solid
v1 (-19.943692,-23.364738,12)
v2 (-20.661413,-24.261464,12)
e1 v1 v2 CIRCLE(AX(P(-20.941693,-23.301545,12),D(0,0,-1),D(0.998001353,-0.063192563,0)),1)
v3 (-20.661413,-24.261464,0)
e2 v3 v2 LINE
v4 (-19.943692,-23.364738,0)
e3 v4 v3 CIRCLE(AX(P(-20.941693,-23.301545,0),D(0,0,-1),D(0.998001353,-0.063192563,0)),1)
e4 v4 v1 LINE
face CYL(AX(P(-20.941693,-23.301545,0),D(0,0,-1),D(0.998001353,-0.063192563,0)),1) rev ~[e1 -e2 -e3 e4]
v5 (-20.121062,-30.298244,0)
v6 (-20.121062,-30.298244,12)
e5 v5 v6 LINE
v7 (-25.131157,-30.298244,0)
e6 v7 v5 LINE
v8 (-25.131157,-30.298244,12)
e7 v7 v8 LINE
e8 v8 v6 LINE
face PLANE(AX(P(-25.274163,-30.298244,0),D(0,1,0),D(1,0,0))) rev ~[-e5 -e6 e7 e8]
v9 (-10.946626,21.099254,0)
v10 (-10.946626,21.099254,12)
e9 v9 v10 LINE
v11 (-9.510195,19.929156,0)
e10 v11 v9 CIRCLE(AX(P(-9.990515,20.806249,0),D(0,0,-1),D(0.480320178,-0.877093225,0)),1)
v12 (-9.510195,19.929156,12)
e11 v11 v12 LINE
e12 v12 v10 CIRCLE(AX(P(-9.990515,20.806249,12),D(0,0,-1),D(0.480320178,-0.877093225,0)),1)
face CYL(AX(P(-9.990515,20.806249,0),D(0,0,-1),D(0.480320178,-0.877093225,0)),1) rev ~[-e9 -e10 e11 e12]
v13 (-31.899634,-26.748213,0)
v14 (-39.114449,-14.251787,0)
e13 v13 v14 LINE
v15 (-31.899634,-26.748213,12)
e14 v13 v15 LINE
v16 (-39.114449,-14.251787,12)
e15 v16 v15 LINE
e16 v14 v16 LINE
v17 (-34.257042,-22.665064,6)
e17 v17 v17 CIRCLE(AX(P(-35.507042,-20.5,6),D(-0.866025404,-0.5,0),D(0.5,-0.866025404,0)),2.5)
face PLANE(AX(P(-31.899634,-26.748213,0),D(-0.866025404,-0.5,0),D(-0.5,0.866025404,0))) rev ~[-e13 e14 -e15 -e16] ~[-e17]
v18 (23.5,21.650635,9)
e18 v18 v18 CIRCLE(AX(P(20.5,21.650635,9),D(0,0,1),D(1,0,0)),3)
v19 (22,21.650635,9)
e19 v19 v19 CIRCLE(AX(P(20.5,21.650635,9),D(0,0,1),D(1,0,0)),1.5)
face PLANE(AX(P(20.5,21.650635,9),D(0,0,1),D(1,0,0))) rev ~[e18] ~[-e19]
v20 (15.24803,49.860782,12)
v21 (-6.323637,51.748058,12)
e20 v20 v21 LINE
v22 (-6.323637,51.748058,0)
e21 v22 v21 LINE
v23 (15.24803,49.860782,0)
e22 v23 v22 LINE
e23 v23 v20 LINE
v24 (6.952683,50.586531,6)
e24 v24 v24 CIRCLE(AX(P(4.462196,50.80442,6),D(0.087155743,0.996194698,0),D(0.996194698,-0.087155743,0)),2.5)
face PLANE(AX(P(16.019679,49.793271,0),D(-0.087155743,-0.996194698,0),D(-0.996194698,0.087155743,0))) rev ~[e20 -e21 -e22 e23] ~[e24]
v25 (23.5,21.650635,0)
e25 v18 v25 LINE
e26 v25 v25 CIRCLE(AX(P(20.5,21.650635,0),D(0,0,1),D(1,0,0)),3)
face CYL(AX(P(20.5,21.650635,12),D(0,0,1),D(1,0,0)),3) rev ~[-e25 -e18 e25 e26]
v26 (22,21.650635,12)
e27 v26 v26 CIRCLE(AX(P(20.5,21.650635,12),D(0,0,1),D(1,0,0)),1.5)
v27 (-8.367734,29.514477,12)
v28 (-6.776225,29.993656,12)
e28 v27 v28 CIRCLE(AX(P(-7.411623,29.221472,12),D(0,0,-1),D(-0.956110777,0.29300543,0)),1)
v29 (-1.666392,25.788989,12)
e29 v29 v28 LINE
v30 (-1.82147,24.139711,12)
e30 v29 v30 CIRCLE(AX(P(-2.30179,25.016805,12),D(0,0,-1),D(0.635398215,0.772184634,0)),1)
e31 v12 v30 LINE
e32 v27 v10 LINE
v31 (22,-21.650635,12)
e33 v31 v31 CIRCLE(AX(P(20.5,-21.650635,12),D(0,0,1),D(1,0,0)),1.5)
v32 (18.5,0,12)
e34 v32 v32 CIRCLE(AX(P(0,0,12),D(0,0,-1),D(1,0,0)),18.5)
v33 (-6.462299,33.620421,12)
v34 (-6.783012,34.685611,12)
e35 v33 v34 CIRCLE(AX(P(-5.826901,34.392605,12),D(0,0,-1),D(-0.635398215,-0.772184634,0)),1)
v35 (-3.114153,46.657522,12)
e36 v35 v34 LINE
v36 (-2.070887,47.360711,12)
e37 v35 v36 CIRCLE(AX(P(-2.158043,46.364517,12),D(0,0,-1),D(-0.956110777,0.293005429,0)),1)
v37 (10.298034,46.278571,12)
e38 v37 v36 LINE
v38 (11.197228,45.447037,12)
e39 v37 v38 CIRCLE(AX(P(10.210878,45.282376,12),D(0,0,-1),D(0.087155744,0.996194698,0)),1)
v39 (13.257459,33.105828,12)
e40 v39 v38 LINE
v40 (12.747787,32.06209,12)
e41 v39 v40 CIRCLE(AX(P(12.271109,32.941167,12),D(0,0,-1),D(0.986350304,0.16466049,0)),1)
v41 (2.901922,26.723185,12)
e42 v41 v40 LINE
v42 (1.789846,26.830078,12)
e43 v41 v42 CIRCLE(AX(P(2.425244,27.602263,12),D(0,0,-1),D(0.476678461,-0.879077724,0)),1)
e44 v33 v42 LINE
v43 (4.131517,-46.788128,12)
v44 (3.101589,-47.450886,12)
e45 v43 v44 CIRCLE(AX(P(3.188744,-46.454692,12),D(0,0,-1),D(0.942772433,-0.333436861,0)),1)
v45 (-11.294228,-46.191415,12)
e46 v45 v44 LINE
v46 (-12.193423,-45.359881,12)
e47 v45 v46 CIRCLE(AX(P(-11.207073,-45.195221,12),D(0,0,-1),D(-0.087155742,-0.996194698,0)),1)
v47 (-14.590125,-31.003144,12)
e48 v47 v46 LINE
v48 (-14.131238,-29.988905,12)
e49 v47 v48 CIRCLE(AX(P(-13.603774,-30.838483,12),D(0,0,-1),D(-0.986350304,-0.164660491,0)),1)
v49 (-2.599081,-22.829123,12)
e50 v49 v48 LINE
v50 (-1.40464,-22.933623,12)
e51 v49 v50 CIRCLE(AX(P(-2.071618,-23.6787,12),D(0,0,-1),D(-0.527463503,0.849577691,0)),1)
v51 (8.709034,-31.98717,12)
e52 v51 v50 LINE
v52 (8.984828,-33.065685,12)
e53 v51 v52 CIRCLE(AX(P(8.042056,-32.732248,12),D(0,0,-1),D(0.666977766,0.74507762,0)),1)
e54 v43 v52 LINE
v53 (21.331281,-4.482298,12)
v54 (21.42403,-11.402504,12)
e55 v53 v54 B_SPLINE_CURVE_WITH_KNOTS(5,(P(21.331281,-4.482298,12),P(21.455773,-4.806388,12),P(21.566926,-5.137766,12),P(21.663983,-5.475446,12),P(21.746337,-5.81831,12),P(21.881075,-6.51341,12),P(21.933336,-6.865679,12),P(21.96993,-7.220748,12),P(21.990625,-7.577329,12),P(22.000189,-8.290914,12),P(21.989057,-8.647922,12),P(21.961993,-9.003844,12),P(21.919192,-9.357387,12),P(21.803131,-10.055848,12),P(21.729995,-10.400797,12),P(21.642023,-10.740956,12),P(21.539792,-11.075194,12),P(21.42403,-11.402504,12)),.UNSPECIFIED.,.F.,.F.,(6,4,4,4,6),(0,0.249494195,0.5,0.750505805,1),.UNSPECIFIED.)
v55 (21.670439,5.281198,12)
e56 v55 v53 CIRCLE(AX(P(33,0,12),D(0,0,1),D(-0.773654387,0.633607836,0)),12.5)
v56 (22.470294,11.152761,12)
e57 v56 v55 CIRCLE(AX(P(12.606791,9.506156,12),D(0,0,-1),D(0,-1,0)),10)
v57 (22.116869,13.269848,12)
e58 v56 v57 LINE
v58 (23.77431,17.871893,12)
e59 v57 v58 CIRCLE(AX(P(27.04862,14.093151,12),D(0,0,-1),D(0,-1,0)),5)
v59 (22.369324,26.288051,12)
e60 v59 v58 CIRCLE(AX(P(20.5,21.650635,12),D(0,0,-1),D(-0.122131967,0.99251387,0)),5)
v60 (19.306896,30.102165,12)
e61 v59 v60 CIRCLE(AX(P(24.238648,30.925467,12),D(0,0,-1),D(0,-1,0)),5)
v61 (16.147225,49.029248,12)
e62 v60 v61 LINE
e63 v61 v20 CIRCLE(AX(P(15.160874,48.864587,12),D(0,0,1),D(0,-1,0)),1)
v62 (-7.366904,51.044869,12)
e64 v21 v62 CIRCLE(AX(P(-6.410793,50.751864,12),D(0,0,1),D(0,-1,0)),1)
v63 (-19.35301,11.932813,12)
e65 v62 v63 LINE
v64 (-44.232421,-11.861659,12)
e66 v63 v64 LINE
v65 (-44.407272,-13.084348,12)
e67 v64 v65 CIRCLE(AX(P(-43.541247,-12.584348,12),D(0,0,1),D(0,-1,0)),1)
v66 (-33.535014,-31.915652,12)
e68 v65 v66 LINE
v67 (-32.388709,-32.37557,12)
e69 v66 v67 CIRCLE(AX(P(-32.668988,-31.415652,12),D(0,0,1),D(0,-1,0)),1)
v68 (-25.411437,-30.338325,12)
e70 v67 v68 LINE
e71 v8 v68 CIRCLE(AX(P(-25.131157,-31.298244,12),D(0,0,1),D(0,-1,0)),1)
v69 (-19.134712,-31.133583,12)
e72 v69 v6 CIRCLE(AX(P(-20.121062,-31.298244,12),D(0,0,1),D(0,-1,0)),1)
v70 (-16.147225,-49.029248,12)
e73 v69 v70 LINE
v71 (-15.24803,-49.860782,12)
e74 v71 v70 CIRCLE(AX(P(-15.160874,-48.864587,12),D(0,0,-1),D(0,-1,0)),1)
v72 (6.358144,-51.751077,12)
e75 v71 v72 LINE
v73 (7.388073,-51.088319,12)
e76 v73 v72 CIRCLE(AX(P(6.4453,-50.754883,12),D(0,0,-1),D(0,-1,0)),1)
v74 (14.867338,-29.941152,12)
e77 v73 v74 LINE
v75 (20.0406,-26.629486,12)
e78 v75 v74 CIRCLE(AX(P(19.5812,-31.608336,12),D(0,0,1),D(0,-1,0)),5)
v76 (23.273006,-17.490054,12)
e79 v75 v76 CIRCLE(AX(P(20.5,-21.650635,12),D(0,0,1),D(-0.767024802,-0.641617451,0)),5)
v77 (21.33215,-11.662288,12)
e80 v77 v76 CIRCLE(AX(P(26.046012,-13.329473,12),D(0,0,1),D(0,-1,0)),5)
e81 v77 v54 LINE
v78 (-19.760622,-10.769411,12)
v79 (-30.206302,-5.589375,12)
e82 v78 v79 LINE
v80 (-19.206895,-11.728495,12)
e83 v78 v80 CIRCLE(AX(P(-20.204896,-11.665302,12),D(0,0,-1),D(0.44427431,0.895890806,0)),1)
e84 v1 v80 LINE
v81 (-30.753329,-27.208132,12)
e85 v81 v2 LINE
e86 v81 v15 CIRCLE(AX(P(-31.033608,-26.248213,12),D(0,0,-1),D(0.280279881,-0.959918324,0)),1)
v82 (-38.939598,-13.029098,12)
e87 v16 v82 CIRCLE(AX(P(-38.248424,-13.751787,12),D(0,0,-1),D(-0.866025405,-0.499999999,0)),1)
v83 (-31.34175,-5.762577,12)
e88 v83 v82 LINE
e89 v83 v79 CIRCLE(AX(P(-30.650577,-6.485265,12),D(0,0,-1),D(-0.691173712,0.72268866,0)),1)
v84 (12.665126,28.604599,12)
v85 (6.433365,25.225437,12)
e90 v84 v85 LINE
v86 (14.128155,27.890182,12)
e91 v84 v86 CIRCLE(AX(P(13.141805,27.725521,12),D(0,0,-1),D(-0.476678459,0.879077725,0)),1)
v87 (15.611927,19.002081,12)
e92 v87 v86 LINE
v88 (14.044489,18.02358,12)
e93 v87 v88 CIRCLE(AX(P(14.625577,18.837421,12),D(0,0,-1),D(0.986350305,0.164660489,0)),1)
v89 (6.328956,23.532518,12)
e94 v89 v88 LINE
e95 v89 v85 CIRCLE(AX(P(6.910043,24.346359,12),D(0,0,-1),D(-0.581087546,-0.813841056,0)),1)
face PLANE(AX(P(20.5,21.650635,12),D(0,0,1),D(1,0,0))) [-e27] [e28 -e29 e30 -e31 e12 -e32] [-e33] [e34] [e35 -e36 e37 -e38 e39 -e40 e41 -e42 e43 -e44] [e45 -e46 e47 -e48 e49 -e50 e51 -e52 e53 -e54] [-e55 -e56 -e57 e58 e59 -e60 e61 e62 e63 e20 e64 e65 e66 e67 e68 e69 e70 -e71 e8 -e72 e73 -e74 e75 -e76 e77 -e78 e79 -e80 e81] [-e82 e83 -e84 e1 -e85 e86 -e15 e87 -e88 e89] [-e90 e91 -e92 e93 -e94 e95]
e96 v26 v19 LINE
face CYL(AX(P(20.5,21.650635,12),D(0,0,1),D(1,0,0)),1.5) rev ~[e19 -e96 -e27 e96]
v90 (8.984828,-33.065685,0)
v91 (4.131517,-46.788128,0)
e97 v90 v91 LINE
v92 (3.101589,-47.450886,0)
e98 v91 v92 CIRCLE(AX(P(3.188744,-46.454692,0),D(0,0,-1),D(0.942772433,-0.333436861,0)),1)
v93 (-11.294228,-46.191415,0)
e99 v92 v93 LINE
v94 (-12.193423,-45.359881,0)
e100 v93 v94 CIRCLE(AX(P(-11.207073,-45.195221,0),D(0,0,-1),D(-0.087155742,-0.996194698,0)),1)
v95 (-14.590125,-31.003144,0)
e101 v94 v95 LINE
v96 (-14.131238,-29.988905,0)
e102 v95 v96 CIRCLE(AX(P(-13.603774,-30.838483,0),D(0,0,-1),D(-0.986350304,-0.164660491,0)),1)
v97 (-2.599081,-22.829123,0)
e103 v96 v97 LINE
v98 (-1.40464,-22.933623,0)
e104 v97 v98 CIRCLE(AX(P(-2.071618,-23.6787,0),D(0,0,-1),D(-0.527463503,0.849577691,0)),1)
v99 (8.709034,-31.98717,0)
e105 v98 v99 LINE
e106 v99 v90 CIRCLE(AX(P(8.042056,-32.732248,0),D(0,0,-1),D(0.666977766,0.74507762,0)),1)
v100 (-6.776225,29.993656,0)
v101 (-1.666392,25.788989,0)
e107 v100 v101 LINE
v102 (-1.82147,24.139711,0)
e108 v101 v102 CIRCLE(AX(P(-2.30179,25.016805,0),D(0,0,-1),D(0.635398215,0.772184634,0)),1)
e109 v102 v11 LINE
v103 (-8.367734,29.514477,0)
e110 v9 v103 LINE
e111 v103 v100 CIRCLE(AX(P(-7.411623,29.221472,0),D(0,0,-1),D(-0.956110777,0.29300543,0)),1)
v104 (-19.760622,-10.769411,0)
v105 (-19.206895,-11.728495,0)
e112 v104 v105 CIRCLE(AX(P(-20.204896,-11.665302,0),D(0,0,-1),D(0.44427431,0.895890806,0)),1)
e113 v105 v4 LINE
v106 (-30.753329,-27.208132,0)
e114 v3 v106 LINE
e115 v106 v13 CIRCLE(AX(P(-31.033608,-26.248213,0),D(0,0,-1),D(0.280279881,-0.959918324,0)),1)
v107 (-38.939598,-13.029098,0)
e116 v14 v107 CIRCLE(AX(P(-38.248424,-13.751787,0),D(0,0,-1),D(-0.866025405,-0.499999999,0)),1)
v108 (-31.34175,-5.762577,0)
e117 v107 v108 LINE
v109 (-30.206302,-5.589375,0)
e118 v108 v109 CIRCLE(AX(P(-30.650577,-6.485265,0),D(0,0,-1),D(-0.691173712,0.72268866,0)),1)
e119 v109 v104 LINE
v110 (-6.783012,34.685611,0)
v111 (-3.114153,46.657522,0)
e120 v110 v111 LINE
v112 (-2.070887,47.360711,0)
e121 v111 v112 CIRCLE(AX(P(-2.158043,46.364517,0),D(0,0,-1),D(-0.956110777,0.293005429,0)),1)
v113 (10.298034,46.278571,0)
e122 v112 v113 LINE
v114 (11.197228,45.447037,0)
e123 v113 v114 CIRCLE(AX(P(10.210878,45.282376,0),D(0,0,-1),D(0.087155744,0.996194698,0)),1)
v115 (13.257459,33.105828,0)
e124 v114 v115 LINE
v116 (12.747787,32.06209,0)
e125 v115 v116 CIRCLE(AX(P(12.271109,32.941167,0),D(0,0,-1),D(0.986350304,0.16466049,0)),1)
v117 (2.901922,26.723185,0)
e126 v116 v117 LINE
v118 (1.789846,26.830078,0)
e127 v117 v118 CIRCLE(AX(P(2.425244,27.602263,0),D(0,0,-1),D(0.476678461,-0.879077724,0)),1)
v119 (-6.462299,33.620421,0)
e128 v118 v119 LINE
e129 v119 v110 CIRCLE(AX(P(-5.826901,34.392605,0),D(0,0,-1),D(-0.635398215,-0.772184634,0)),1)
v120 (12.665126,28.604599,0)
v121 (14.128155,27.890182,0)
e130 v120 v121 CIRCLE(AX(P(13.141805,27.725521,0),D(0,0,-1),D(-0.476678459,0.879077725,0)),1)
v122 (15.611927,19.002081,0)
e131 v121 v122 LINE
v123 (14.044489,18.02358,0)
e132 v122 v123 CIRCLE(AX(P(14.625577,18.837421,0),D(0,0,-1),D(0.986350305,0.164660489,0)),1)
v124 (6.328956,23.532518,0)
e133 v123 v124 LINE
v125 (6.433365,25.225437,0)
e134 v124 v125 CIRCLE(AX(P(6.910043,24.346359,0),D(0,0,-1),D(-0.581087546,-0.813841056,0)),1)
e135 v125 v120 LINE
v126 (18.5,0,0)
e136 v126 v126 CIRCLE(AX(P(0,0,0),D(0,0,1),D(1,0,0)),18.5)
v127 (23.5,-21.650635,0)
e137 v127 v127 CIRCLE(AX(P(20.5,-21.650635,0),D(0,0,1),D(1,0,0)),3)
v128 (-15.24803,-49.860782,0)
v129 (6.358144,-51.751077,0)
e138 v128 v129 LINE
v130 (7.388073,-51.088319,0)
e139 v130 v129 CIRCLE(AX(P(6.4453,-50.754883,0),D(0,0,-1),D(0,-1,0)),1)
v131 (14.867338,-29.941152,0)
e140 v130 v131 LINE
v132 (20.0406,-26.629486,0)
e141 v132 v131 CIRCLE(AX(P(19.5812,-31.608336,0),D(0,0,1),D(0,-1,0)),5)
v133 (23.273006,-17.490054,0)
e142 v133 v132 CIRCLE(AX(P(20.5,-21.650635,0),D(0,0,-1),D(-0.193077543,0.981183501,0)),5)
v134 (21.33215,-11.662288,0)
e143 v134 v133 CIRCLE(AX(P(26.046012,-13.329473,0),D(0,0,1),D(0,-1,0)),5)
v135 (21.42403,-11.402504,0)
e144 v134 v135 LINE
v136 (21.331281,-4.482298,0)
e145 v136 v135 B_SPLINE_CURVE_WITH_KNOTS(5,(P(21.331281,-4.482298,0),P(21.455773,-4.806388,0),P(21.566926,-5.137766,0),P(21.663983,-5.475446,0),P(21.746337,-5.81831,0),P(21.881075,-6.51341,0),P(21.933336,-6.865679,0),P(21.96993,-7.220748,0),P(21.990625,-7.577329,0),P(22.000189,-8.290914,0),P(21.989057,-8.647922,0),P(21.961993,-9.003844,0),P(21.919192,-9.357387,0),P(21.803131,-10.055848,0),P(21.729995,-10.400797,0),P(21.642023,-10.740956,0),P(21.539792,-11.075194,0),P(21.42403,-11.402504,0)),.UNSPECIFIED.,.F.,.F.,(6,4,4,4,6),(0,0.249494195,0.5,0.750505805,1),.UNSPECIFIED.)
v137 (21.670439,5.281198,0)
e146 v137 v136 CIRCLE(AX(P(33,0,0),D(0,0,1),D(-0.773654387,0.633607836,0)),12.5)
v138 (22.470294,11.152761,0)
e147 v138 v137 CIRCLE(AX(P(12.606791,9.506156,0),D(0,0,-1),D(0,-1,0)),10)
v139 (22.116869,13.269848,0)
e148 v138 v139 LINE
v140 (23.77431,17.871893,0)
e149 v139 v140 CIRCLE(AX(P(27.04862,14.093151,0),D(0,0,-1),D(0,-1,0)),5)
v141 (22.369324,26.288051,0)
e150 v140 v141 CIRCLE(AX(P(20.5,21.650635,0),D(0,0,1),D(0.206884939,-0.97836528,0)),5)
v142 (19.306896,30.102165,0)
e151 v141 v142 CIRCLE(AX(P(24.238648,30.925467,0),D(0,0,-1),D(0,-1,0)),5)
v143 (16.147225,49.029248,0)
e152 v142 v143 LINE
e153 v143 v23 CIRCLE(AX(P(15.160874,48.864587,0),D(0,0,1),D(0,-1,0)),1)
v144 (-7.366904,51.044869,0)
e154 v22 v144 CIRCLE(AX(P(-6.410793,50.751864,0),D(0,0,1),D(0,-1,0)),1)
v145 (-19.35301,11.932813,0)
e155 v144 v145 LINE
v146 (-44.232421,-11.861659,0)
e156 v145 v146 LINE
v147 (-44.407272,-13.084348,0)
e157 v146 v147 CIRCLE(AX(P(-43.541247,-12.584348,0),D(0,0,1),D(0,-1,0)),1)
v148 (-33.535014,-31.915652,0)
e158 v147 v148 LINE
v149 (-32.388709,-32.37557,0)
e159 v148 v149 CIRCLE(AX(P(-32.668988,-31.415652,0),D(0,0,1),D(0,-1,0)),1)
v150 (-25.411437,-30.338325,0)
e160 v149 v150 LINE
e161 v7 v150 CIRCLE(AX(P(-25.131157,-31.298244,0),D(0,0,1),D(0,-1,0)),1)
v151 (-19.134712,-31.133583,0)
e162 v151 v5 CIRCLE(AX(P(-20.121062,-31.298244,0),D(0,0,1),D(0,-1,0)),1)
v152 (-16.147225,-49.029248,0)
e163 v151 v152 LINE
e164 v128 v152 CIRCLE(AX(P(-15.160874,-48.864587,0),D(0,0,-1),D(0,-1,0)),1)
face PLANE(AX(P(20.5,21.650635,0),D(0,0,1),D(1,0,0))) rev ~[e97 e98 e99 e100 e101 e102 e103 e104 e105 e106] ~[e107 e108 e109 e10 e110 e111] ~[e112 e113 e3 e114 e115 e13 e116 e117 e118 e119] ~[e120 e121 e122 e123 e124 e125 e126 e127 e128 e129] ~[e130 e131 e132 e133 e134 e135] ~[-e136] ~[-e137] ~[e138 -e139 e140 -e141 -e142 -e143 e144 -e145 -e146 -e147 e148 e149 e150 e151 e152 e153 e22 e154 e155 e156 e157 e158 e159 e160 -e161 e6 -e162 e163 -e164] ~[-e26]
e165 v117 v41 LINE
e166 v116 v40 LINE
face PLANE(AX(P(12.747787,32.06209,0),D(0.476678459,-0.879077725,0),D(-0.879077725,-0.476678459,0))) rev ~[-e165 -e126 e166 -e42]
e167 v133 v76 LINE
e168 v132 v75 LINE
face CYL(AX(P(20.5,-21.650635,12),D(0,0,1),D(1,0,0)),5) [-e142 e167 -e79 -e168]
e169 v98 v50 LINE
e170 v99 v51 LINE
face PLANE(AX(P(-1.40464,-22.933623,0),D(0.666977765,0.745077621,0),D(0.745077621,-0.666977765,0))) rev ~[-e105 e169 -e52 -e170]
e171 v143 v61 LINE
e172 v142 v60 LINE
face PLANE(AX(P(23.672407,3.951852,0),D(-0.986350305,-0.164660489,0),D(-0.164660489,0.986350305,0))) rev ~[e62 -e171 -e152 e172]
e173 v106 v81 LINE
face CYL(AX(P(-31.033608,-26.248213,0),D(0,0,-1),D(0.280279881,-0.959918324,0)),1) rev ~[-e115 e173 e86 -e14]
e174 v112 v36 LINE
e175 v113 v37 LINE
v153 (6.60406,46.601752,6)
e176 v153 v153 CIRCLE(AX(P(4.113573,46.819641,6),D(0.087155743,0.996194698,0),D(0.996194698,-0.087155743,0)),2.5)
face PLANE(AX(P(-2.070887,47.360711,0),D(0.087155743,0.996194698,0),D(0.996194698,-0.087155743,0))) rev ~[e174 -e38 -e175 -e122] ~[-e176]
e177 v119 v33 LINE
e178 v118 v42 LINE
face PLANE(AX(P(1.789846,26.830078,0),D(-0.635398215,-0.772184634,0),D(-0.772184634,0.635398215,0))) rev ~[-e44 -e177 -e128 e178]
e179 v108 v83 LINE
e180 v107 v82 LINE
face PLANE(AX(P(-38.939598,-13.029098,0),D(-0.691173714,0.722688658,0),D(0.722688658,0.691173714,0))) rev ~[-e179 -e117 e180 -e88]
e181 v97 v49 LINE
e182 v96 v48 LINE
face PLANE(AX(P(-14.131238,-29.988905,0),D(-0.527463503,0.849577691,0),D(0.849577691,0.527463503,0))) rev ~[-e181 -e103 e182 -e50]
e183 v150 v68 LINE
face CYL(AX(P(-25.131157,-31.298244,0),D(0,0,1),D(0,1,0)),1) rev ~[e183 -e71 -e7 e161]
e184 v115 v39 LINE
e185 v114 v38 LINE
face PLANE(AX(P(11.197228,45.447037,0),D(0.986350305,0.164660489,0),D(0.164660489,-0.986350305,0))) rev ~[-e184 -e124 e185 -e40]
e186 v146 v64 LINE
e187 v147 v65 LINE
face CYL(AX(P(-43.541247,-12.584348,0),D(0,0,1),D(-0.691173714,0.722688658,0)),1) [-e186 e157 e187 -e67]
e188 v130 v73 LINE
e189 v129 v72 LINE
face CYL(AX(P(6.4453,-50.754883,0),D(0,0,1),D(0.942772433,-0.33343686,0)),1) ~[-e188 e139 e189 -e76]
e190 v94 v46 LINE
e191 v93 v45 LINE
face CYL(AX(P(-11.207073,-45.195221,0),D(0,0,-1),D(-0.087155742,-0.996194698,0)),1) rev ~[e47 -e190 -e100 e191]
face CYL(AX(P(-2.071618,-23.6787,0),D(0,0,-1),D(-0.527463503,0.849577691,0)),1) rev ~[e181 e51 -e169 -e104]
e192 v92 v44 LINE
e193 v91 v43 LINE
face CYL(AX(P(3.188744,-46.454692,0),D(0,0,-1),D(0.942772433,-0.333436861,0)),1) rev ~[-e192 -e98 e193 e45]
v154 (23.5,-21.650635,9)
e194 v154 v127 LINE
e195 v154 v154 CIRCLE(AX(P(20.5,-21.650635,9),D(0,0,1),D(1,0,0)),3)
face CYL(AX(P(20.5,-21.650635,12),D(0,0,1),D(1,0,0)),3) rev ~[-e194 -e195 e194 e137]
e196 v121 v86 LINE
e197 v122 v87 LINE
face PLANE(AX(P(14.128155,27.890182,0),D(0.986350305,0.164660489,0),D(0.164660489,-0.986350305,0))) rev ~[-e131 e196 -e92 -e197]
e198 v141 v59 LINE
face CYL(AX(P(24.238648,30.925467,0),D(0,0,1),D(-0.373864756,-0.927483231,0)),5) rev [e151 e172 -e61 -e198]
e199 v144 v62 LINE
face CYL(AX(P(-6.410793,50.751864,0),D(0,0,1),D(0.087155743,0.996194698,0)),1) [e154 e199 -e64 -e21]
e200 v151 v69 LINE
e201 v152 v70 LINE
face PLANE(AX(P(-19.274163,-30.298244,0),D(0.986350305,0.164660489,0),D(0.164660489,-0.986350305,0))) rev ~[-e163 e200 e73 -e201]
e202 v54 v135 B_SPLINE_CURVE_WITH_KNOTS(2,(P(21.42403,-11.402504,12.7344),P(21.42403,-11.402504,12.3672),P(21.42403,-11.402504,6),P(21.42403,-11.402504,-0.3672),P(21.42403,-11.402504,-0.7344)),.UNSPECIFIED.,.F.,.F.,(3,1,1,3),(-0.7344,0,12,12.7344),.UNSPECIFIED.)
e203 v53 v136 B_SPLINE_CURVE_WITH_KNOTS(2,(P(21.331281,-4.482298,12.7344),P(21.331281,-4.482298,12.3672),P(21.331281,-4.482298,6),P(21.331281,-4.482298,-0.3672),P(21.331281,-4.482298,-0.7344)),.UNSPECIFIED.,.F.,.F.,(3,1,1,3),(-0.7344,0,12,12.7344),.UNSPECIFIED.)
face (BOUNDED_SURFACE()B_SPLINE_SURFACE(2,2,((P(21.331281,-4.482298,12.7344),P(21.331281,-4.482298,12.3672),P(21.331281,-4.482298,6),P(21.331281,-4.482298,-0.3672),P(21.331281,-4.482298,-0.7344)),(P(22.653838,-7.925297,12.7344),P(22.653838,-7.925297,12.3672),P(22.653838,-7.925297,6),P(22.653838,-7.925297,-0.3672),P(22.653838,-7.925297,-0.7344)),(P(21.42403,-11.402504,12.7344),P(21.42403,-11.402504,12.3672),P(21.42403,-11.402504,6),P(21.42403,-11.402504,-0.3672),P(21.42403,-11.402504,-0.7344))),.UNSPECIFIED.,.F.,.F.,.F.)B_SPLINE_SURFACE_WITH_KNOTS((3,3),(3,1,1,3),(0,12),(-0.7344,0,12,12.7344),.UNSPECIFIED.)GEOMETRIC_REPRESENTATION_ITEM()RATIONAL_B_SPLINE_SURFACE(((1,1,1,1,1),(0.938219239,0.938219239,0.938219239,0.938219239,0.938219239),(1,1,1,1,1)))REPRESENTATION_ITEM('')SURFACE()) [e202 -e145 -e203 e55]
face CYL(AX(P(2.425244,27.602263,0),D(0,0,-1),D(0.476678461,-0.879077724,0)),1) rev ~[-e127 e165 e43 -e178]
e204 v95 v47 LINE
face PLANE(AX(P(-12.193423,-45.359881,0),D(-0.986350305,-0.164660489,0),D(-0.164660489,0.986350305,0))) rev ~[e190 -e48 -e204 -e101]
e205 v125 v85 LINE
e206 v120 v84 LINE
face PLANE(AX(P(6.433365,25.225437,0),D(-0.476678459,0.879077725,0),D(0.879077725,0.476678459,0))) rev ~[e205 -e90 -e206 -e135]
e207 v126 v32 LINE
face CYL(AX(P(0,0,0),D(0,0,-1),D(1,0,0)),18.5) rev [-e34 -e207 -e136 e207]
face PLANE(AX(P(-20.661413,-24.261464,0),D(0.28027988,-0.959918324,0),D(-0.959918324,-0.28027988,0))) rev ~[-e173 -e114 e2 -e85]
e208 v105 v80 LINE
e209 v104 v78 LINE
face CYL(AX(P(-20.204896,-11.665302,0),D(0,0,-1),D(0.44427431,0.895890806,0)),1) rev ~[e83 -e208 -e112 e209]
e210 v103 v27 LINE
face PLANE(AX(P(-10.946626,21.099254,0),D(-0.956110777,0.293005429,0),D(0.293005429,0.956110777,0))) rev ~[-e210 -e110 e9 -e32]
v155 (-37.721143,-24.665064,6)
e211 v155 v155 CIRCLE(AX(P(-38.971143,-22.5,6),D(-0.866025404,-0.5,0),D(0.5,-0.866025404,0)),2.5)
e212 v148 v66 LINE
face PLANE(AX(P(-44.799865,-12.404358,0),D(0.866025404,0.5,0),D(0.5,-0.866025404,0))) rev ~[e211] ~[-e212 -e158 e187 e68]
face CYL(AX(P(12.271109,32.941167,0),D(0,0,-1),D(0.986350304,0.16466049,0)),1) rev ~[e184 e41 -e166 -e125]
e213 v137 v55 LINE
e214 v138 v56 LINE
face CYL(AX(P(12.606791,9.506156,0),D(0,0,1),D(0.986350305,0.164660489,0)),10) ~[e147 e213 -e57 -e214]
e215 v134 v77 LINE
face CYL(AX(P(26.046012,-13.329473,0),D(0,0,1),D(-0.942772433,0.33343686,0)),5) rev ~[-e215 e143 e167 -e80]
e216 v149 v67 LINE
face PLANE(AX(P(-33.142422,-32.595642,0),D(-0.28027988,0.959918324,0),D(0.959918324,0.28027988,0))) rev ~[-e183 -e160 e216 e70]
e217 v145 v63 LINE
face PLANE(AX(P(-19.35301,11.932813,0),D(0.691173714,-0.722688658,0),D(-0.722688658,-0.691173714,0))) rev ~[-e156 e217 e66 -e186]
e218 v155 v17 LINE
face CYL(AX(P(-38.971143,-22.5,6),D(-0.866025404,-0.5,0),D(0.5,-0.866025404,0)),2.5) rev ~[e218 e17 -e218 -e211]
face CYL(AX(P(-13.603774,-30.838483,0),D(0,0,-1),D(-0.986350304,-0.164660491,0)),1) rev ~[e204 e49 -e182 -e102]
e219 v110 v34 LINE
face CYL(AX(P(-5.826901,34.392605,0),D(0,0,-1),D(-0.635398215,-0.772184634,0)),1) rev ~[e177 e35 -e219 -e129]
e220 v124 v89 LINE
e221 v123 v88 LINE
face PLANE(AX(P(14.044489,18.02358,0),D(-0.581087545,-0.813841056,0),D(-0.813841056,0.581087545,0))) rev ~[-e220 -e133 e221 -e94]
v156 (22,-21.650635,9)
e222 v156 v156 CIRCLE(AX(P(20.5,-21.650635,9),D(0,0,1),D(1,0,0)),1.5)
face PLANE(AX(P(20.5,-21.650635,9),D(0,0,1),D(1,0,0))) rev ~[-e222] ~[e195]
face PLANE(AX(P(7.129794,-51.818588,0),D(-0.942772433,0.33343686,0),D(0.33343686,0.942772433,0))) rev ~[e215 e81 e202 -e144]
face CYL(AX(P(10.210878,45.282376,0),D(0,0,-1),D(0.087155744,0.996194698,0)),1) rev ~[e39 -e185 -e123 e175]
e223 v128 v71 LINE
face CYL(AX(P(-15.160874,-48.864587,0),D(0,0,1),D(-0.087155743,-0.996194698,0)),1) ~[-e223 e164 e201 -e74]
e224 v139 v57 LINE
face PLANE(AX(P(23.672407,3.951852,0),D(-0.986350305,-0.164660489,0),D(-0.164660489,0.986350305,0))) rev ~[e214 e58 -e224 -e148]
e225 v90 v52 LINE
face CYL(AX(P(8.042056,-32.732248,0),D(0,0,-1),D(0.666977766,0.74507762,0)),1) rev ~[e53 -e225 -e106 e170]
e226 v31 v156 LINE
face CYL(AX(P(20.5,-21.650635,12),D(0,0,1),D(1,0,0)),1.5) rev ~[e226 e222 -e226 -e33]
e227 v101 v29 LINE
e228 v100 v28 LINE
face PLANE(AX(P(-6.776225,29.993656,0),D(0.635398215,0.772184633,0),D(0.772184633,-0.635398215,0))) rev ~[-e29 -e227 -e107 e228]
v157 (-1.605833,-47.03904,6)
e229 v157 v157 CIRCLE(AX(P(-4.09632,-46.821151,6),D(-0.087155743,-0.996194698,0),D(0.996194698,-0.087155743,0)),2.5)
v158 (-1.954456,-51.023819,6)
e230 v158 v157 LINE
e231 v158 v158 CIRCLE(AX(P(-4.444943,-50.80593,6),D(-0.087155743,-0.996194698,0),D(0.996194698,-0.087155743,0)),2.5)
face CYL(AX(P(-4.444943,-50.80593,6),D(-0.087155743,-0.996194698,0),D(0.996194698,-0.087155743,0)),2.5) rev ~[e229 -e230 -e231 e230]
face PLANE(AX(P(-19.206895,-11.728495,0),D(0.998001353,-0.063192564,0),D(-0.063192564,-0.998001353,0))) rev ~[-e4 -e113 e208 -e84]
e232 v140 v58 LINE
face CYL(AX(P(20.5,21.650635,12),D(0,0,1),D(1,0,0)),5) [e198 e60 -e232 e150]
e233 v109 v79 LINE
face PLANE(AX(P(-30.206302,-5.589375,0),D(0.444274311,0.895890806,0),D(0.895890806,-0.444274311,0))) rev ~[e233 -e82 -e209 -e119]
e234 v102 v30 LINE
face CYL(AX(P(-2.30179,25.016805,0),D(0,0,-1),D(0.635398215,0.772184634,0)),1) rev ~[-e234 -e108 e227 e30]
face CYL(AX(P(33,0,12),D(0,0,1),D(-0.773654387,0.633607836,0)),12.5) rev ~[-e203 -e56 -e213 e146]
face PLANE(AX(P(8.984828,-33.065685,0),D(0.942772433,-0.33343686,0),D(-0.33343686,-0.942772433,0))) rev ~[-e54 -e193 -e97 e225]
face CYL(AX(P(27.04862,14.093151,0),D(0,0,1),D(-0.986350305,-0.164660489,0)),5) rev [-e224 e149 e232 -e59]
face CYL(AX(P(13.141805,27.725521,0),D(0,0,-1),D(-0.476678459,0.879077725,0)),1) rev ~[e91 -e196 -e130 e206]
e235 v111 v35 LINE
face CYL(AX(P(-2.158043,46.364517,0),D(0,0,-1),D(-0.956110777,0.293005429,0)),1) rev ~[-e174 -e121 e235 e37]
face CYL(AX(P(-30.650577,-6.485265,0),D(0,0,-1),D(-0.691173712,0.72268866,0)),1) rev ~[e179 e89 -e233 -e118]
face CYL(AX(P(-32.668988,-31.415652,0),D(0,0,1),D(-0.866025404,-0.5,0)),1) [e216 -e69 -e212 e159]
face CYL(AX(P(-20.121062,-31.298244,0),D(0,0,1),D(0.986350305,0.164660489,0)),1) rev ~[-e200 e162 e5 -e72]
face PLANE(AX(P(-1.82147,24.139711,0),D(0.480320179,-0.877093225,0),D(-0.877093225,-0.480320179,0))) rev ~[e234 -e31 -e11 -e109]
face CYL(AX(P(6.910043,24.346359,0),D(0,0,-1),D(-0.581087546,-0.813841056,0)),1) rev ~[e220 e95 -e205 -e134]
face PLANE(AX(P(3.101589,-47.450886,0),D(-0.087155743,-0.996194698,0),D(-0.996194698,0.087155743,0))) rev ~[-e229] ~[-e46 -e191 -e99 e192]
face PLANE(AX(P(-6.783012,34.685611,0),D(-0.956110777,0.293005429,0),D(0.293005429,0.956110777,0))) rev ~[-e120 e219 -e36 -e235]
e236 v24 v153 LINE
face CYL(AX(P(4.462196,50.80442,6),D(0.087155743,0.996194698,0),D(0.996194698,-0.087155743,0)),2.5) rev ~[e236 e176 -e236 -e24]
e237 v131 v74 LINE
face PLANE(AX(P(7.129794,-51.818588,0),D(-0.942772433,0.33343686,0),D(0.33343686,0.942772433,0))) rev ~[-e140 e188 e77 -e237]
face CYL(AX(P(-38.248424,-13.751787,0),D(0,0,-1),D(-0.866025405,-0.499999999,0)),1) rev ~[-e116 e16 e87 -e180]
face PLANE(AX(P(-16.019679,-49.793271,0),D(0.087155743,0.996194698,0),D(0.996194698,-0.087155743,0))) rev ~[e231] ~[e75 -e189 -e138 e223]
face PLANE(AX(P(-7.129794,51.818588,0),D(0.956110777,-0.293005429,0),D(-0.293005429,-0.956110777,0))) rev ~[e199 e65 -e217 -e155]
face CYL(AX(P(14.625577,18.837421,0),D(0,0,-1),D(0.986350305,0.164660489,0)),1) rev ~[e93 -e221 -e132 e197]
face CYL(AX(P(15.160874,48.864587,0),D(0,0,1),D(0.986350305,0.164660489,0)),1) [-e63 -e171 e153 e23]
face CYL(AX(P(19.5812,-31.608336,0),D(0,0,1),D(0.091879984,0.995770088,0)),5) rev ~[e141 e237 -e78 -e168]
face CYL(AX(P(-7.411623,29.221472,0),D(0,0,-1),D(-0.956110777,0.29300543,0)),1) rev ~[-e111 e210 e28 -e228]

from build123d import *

# Parameters (mm, degrees)
BOSS_EXTRUDE1_DEPTH = 12
SKETCH2_5_R         = 18.5
CUT_EXTRUDE1_DEPTH  = 70.542748898
CUT_EXTRUDE2_DEPTH  = 70.542748898
FILLET2_R           = 1
SKETCH5_R           = 2.5
CUT_EXTRUDE3_DEPTH  = 20
SKETCH6_R           = 2.5
CUT_EXTRUDE4_DEPTH  = 20
SKETCH7_R           = 2.5
CUT_EXTRUDE5_DEPTH  = 20
SKETCH8_R           = 3
CUT_EXTRUDE6_DEPTH  = 12
SKETCH8_5_R         = 5
SKETCH8_5_R_2       = 3
BOSS_EXTRUDE3_DEPTH = 12
SKETCH8_6_R         = 3
BOSS_EXTRUDE4_DEPTH = 3
SKETCH8_7_R         = 1.5
CUT_EXTRUDE7_DEPTH  = 3
CUT_EXTRUDE8_DEPTH  = 12
FILLET3_R           = 10
FILLET4_R           = 5


with BuildPart() as part:
    # Sketch2 → Boss-Extrude1 (new body)
    with BuildSketch(Plane.XY):
        with BuildLine():
            Line((23.672407308, 3.951851747), (16.019679306, 49.793271382))
            Line((16.019679306, 49.793271382), (-7.129793546, 51.818587823))
            Line((-7.129793546, 51.818587823), (-19.353009621, 11.93281278))
            Line((-19.353009621, 11.93281278), (-44.799864735, -12.404358107))
            Line((-44.799864735, -12.404358107), (-33.142421606, -32.595641893))
            Line((-33.142421606, -32.595641893), (-25.274162816, -30.298243696))
            Line((-25.274162816, -30.298243696), (-19.274162816, -30.298243696))
            Line((-19.274162816, -30.298243696), (-16.019679306, -49.793271382))
            Line((-16.019679306, -49.793271382), (7.129793546, -51.818587823))
            Line((7.129793546, -51.818587823), (22.626538395, -8.00248463))
            ThreePointArc((22.626538395, -8.00248463), (23.908672754, -2.091737826), (23.672407308, 3.951851747))
        make_face()
    extrude(amount=BOSS_EXTRUDE1_DEPTH)

    # Sketch2<5> → Cut-Extrude1 (cut, through all)
    with BuildSketch(Plane.XY):
        Circle(SKETCH2_5_R)
    extrude(amount=CUT_EXTRUDE1_DEPTH, mode=Mode.SUBTRACT)

    # Sketch4 → Cut-Extrude2 (cut, through all)
    with BuildSketch(Plane(origin=(0, 0, 0), x_dir=(-1, 0, 0), z_dir=(0, 0, -1))):
        with BuildLine():
            Line((31.89963382, -26.74821348), (39.11444929, -14.25178652))
            ThreePointArc((39.11444929, -14.25178652), (39.238352753, -13.610220853), (38.939597601, -13.029097861))
            Line((38.939597601, -13.029097861), (31.34175024, -5.762576762))
            ThreePointArc((31.34175024, -5.762576762), (30.801372994, -5.49670059), (30.206302215, -5.589374614))
            Line((30.206302215, -5.589374614), (19.760621938, -10.769411482))
            ThreePointArc((19.760621938, -10.769411482), (19.338870845, -11.165302288), (19.206894896, -11.728494852))
            Line((19.206894896, -11.728494852), (19.943691515, -23.364737765))
            ThreePointArc((19.943691515, -23.364737765), (20.160968845, -23.92642119), (20.661412988, -24.261463526))
            Line((20.661412988, -24.261463526), (30.753328537, -27.208131805))
            ThreePointArc((30.753328537, -27.208131805), (31.405973387, -27.176299861), (31.89963382, -26.74821348))
        make_face()
        with BuildLine():
            Line((-3.101588581, -47.450886204), (11.294228399, -46.191415416))
            ThreePointArc((11.294228399, -46.191415416), (11.886017494, -45.929410004), (12.193422961, -45.359881208))
            Line((12.193422961, -45.359881208), (14.590124654, -31.003143578))
            ThreePointArc((14.590124654, -31.003143578), (14.514860423, -30.426266922), (14.131237853, -29.988905397))
            Line((14.131237853, -29.988905397), (2.599081353, -22.829122685))
            ThreePointArc((2.599081353, -22.829122685), (1.984462107, -22.682505678), (1.404640085, -22.933622755))
            Line((1.404640085, -22.933622755), (-8.709033825, -31.987170241))
            ThreePointArc((-8.709033825, -31.987170241), (-9.010881274, -32.484502622), (-8.984828493, -33.065684721))
            Line((-8.984828493, -33.065684721), (-4.131516756, -46.788128366))
            ThreePointArc((-4.131516756, -46.788128366), (-3.729883832, -47.29562434), (-3.101588581, -47.450886204))
        make_face()
        with BuildLine():
            ThreePointArc((3.114153375, 46.657522219), (2.716960749, 47.193739619), (2.070886855, 47.360711488))
            Line((2.070886855, 47.360711488), (-10.298033701, 46.278571159))
            ThreePointArc((-10.298033701, 46.278571159), (-10.889822796, 46.016565746), (-11.197228262, 45.447036951))
            Line((-11.197228262, 45.447036951), (-13.257459336, 33.105827753))
            ThreePointArc((-13.257459336, 33.105827753), (-13.169697178, 32.50237421), (-12.747787491, 32.062089538))
            Line((-12.747787491, 32.062089538), (-2.901922388, 26.723185283))
            ThreePointArc((-2.901922388, 26.723185283), (-2.329564655, 26.606850793), (-1.789845714, 26.830078374))
            Line((-1.789845714, 26.830078374), (6.462299158, 33.620420858))
            ThreePointArc((6.462299158, 33.620420858), (6.784440856, 34.104304755), (6.78301172, 34.68561092))
            Line((6.78301172, 34.68561092), (3.114153375, 46.657522219))
        make_face()
        with BuildLine():
            Line((-6.433365024, 25.225436758), (-12.665126119, 28.604599024))
            ThreePointArc((-12.665126119, 28.604599024), (-13.580597632, 28.624109445), (-14.128154883, 27.890181789))
            Line((-14.128154883, 27.890181789), (-15.611926917, 19.002081175))
            ThreePointArc((-15.611926917, 19.002081175), (-15.15512906, 17.989143487), (-14.044489067, 18.023579629))
            Line((-14.044489067, 18.023579629), (-6.328955938, 23.532517977))
            ThreePointArc((-6.328955938, 23.532517977), (-5.911939917, 24.40791608), (-6.433365024, 25.225436758))
        make_face()
        with BuildLine():
            Line((6.77622527, 29.993656239), (1.666391597, 25.788989304))
            ThreePointArc((1.666391597, 25.788989304), (1.306181331, 24.923189755), (1.821469633, 24.139711446))
            Line((1.821469633, 24.139711446), (9.510194745, 19.929155813))
            ThreePointArc((9.510194745, 19.929155813), (10.622081934, 20.030927743), (10.946625701, 21.099254467))
            Line((10.946625701, 21.099254467), (8.367734263, 29.514477034))
            ThreePointArc((8.367734263, 29.514477034), (7.699924222, 30.179011518), (6.77622527, 29.993656239))
        make_face()
    extrude(amount=-CUT_EXTRUDE2_DEPTH, mode=Mode.SUBTRACT)

    # Fillet2
    fillet2_edges = [part.edges().sort_by_distance(p)[0] for p in [
        (7.129793546, -51.818587823, 6),
        (-16.019679306, -49.793271382, 6),
        (-25.274162816, -30.298243696, 6),
        (-19.274162816, -30.298243696, 6),
        (-33.142421606, -32.595641893, 6),
        (-44.799864735, -12.404358107, 6),
        (-7.129793546, 51.818587823, 6),
        (16.019679306, 49.793271382, 6),
    ]]
    fillet(fillet2_edges, radius=FILLET2_R)

    # Sketch5 → Cut-Extrude3 (cut)
    with BuildSketch(Plane(origin=(-4.44494288, -50.805929603, 0), x_dir=(0.9961946980917458, -0.08715574274765547, 0), z_dir=(-0.08715574274765547, -0.9961946980917458, 0))):
        with Locations((0, 6)):
            Circle(SKETCH5_R)
    extrude(amount=-CUT_EXTRUDE3_DEPTH, mode=Mode.SUBTRACT)

    # Sketch6 → Cut-Extrude4 (cut)
    with BuildSketch(Plane(origin=(-38.97114317, -22.5, 0), x_dir=(0.5000000000000013, -0.8660254037844379, 0), z_dir=(-0.8660254037844378, -0.5000000000000012, 0))):
        with Locations((0, 6)):
            Circle(SKETCH6_R)
    extrude(amount=-CUT_EXTRUDE4_DEPTH, mode=Mode.SUBTRACT)

    # Sketch7 → Cut-Extrude5 (cut)
    with BuildSketch(Plane(origin=(4.44494288, 50.805929603, 0), x_dir=(0.9961946980917453, -0.08715574274766227, 0), z_dir=(0.08715574274766227, 0.9961946980917453, 0))):
        with Locations((0.01731942, -6)):
            Circle(SKETCH7_R)
    extrude(amount=-CUT_EXTRUDE5_DEPTH, mode=Mode.SUBTRACT)

    # Sketch8 → Cut-Extrude6 (cut)
    with BuildSketch(Plane.XY.offset(12)):
        with Locations((20.5, 21.650635095)):
            Circle(SKETCH8_R)
        with Locations((20.5, -21.650635095)):
            Circle(SKETCH8_R)
    extrude(amount=-CUT_EXTRUDE6_DEPTH, mode=Mode.SUBTRACT)

    # Sketch8<5> → Boss-Extrude3 (add)
    # profile 1 of 2: a face of its own
    with BuildSketch(Plane.XY.offset(12)):
        with Locations((20.5, 21.650635095)):
            Circle(SKETCH8_5_R)
        with Locations((20.5, 21.650635095)):
            Circle(SKETCH8_5_R_2, mode=Mode.SUBTRACT)
    # profile 2 of 2: a face of its own
    with BuildSketch(Plane.XY.offset(12)):
        with Locations((20.5, -21.650635095)):
            Circle(SKETCH8_5_R)
        with Locations((20.5, -21.650635095)):
            Circle(SKETCH8_5_R_2, mode=Mode.SUBTRACT)
    extrude(amount=-BOSS_EXTRUDE3_DEPTH)

    # Sketch8<6> → Boss-Extrude4 (add)
    with BuildSketch(Plane.XY.offset(12)):
        with Locations((20.5, 21.650635095)):
            Circle(SKETCH8_6_R)
        with Locations((20.5, -21.650635095)):
            Circle(SKETCH8_6_R)
    extrude(amount=-BOSS_EXTRUDE4_DEPTH)

    # Sketch8<7> → Cut-Extrude7 (cut)
    with BuildSketch(Plane.XY.offset(12)):
        with Locations((20.5, 21.650635095)):
            Circle(SKETCH8_7_R)
        with Locations((20.5, -21.650635095)):
            Circle(SKETCH8_7_R)
    extrude(amount=-CUT_EXTRUDE7_DEPTH, mode=Mode.SUBTRACT)

    # Sketch8<8> → Cut-Extrude8 (cut)
    with BuildSketch(Plane.XY.offset(12)):
        with BuildLine():
            ThreePointArc((30.976333892, 12.335103384), (26.75, 10.825317547), (23.329320166, 7.92009795))
            ThreePointArc((23.329320166, 7.92009795), (20.5, 0), (23.329320166, -7.92009795))
            ThreePointArc((23.329320166, -7.92009795), (26.75, -10.825317547), (30.976333892, -12.335103384))
            ThreePointArc((30.976333892, -12.335103384), (41.091791323, -9.527481996), (45.5, 0))
            ThreePointArc((45.5, 0), (41.091791323, 9.527481996), (30.976333892, 12.335103384))
        make_face()
    extrude(amount=-CUT_EXTRUDE8_DEPTH, mode=Mode.SUBTRACT)

    # Fillet3
    fillet3_edges = [part.edges().sort_by_distance(p)[0] for p in [
        (22.859848485, -7.309399924, 6),
        (23.065610114, 7.586692137, 6),
    ]]
    fillet(fillet3_edges, radius=FILLET3_R)

    # Fillet4
    fillet4_edges = [part.edges().sort_by_distance(p)[0] for p in [
        (16.664875992, -24.85872235, 6),
        (19.534612283, -16.744717591, 6),
        (19.889340166, 26.613204446, 6),
        (21.534424697, 16.758808693, 6),
    ]]
    fillet(fillet4_edges, radius=FILLET4_R)


solid = part.part
